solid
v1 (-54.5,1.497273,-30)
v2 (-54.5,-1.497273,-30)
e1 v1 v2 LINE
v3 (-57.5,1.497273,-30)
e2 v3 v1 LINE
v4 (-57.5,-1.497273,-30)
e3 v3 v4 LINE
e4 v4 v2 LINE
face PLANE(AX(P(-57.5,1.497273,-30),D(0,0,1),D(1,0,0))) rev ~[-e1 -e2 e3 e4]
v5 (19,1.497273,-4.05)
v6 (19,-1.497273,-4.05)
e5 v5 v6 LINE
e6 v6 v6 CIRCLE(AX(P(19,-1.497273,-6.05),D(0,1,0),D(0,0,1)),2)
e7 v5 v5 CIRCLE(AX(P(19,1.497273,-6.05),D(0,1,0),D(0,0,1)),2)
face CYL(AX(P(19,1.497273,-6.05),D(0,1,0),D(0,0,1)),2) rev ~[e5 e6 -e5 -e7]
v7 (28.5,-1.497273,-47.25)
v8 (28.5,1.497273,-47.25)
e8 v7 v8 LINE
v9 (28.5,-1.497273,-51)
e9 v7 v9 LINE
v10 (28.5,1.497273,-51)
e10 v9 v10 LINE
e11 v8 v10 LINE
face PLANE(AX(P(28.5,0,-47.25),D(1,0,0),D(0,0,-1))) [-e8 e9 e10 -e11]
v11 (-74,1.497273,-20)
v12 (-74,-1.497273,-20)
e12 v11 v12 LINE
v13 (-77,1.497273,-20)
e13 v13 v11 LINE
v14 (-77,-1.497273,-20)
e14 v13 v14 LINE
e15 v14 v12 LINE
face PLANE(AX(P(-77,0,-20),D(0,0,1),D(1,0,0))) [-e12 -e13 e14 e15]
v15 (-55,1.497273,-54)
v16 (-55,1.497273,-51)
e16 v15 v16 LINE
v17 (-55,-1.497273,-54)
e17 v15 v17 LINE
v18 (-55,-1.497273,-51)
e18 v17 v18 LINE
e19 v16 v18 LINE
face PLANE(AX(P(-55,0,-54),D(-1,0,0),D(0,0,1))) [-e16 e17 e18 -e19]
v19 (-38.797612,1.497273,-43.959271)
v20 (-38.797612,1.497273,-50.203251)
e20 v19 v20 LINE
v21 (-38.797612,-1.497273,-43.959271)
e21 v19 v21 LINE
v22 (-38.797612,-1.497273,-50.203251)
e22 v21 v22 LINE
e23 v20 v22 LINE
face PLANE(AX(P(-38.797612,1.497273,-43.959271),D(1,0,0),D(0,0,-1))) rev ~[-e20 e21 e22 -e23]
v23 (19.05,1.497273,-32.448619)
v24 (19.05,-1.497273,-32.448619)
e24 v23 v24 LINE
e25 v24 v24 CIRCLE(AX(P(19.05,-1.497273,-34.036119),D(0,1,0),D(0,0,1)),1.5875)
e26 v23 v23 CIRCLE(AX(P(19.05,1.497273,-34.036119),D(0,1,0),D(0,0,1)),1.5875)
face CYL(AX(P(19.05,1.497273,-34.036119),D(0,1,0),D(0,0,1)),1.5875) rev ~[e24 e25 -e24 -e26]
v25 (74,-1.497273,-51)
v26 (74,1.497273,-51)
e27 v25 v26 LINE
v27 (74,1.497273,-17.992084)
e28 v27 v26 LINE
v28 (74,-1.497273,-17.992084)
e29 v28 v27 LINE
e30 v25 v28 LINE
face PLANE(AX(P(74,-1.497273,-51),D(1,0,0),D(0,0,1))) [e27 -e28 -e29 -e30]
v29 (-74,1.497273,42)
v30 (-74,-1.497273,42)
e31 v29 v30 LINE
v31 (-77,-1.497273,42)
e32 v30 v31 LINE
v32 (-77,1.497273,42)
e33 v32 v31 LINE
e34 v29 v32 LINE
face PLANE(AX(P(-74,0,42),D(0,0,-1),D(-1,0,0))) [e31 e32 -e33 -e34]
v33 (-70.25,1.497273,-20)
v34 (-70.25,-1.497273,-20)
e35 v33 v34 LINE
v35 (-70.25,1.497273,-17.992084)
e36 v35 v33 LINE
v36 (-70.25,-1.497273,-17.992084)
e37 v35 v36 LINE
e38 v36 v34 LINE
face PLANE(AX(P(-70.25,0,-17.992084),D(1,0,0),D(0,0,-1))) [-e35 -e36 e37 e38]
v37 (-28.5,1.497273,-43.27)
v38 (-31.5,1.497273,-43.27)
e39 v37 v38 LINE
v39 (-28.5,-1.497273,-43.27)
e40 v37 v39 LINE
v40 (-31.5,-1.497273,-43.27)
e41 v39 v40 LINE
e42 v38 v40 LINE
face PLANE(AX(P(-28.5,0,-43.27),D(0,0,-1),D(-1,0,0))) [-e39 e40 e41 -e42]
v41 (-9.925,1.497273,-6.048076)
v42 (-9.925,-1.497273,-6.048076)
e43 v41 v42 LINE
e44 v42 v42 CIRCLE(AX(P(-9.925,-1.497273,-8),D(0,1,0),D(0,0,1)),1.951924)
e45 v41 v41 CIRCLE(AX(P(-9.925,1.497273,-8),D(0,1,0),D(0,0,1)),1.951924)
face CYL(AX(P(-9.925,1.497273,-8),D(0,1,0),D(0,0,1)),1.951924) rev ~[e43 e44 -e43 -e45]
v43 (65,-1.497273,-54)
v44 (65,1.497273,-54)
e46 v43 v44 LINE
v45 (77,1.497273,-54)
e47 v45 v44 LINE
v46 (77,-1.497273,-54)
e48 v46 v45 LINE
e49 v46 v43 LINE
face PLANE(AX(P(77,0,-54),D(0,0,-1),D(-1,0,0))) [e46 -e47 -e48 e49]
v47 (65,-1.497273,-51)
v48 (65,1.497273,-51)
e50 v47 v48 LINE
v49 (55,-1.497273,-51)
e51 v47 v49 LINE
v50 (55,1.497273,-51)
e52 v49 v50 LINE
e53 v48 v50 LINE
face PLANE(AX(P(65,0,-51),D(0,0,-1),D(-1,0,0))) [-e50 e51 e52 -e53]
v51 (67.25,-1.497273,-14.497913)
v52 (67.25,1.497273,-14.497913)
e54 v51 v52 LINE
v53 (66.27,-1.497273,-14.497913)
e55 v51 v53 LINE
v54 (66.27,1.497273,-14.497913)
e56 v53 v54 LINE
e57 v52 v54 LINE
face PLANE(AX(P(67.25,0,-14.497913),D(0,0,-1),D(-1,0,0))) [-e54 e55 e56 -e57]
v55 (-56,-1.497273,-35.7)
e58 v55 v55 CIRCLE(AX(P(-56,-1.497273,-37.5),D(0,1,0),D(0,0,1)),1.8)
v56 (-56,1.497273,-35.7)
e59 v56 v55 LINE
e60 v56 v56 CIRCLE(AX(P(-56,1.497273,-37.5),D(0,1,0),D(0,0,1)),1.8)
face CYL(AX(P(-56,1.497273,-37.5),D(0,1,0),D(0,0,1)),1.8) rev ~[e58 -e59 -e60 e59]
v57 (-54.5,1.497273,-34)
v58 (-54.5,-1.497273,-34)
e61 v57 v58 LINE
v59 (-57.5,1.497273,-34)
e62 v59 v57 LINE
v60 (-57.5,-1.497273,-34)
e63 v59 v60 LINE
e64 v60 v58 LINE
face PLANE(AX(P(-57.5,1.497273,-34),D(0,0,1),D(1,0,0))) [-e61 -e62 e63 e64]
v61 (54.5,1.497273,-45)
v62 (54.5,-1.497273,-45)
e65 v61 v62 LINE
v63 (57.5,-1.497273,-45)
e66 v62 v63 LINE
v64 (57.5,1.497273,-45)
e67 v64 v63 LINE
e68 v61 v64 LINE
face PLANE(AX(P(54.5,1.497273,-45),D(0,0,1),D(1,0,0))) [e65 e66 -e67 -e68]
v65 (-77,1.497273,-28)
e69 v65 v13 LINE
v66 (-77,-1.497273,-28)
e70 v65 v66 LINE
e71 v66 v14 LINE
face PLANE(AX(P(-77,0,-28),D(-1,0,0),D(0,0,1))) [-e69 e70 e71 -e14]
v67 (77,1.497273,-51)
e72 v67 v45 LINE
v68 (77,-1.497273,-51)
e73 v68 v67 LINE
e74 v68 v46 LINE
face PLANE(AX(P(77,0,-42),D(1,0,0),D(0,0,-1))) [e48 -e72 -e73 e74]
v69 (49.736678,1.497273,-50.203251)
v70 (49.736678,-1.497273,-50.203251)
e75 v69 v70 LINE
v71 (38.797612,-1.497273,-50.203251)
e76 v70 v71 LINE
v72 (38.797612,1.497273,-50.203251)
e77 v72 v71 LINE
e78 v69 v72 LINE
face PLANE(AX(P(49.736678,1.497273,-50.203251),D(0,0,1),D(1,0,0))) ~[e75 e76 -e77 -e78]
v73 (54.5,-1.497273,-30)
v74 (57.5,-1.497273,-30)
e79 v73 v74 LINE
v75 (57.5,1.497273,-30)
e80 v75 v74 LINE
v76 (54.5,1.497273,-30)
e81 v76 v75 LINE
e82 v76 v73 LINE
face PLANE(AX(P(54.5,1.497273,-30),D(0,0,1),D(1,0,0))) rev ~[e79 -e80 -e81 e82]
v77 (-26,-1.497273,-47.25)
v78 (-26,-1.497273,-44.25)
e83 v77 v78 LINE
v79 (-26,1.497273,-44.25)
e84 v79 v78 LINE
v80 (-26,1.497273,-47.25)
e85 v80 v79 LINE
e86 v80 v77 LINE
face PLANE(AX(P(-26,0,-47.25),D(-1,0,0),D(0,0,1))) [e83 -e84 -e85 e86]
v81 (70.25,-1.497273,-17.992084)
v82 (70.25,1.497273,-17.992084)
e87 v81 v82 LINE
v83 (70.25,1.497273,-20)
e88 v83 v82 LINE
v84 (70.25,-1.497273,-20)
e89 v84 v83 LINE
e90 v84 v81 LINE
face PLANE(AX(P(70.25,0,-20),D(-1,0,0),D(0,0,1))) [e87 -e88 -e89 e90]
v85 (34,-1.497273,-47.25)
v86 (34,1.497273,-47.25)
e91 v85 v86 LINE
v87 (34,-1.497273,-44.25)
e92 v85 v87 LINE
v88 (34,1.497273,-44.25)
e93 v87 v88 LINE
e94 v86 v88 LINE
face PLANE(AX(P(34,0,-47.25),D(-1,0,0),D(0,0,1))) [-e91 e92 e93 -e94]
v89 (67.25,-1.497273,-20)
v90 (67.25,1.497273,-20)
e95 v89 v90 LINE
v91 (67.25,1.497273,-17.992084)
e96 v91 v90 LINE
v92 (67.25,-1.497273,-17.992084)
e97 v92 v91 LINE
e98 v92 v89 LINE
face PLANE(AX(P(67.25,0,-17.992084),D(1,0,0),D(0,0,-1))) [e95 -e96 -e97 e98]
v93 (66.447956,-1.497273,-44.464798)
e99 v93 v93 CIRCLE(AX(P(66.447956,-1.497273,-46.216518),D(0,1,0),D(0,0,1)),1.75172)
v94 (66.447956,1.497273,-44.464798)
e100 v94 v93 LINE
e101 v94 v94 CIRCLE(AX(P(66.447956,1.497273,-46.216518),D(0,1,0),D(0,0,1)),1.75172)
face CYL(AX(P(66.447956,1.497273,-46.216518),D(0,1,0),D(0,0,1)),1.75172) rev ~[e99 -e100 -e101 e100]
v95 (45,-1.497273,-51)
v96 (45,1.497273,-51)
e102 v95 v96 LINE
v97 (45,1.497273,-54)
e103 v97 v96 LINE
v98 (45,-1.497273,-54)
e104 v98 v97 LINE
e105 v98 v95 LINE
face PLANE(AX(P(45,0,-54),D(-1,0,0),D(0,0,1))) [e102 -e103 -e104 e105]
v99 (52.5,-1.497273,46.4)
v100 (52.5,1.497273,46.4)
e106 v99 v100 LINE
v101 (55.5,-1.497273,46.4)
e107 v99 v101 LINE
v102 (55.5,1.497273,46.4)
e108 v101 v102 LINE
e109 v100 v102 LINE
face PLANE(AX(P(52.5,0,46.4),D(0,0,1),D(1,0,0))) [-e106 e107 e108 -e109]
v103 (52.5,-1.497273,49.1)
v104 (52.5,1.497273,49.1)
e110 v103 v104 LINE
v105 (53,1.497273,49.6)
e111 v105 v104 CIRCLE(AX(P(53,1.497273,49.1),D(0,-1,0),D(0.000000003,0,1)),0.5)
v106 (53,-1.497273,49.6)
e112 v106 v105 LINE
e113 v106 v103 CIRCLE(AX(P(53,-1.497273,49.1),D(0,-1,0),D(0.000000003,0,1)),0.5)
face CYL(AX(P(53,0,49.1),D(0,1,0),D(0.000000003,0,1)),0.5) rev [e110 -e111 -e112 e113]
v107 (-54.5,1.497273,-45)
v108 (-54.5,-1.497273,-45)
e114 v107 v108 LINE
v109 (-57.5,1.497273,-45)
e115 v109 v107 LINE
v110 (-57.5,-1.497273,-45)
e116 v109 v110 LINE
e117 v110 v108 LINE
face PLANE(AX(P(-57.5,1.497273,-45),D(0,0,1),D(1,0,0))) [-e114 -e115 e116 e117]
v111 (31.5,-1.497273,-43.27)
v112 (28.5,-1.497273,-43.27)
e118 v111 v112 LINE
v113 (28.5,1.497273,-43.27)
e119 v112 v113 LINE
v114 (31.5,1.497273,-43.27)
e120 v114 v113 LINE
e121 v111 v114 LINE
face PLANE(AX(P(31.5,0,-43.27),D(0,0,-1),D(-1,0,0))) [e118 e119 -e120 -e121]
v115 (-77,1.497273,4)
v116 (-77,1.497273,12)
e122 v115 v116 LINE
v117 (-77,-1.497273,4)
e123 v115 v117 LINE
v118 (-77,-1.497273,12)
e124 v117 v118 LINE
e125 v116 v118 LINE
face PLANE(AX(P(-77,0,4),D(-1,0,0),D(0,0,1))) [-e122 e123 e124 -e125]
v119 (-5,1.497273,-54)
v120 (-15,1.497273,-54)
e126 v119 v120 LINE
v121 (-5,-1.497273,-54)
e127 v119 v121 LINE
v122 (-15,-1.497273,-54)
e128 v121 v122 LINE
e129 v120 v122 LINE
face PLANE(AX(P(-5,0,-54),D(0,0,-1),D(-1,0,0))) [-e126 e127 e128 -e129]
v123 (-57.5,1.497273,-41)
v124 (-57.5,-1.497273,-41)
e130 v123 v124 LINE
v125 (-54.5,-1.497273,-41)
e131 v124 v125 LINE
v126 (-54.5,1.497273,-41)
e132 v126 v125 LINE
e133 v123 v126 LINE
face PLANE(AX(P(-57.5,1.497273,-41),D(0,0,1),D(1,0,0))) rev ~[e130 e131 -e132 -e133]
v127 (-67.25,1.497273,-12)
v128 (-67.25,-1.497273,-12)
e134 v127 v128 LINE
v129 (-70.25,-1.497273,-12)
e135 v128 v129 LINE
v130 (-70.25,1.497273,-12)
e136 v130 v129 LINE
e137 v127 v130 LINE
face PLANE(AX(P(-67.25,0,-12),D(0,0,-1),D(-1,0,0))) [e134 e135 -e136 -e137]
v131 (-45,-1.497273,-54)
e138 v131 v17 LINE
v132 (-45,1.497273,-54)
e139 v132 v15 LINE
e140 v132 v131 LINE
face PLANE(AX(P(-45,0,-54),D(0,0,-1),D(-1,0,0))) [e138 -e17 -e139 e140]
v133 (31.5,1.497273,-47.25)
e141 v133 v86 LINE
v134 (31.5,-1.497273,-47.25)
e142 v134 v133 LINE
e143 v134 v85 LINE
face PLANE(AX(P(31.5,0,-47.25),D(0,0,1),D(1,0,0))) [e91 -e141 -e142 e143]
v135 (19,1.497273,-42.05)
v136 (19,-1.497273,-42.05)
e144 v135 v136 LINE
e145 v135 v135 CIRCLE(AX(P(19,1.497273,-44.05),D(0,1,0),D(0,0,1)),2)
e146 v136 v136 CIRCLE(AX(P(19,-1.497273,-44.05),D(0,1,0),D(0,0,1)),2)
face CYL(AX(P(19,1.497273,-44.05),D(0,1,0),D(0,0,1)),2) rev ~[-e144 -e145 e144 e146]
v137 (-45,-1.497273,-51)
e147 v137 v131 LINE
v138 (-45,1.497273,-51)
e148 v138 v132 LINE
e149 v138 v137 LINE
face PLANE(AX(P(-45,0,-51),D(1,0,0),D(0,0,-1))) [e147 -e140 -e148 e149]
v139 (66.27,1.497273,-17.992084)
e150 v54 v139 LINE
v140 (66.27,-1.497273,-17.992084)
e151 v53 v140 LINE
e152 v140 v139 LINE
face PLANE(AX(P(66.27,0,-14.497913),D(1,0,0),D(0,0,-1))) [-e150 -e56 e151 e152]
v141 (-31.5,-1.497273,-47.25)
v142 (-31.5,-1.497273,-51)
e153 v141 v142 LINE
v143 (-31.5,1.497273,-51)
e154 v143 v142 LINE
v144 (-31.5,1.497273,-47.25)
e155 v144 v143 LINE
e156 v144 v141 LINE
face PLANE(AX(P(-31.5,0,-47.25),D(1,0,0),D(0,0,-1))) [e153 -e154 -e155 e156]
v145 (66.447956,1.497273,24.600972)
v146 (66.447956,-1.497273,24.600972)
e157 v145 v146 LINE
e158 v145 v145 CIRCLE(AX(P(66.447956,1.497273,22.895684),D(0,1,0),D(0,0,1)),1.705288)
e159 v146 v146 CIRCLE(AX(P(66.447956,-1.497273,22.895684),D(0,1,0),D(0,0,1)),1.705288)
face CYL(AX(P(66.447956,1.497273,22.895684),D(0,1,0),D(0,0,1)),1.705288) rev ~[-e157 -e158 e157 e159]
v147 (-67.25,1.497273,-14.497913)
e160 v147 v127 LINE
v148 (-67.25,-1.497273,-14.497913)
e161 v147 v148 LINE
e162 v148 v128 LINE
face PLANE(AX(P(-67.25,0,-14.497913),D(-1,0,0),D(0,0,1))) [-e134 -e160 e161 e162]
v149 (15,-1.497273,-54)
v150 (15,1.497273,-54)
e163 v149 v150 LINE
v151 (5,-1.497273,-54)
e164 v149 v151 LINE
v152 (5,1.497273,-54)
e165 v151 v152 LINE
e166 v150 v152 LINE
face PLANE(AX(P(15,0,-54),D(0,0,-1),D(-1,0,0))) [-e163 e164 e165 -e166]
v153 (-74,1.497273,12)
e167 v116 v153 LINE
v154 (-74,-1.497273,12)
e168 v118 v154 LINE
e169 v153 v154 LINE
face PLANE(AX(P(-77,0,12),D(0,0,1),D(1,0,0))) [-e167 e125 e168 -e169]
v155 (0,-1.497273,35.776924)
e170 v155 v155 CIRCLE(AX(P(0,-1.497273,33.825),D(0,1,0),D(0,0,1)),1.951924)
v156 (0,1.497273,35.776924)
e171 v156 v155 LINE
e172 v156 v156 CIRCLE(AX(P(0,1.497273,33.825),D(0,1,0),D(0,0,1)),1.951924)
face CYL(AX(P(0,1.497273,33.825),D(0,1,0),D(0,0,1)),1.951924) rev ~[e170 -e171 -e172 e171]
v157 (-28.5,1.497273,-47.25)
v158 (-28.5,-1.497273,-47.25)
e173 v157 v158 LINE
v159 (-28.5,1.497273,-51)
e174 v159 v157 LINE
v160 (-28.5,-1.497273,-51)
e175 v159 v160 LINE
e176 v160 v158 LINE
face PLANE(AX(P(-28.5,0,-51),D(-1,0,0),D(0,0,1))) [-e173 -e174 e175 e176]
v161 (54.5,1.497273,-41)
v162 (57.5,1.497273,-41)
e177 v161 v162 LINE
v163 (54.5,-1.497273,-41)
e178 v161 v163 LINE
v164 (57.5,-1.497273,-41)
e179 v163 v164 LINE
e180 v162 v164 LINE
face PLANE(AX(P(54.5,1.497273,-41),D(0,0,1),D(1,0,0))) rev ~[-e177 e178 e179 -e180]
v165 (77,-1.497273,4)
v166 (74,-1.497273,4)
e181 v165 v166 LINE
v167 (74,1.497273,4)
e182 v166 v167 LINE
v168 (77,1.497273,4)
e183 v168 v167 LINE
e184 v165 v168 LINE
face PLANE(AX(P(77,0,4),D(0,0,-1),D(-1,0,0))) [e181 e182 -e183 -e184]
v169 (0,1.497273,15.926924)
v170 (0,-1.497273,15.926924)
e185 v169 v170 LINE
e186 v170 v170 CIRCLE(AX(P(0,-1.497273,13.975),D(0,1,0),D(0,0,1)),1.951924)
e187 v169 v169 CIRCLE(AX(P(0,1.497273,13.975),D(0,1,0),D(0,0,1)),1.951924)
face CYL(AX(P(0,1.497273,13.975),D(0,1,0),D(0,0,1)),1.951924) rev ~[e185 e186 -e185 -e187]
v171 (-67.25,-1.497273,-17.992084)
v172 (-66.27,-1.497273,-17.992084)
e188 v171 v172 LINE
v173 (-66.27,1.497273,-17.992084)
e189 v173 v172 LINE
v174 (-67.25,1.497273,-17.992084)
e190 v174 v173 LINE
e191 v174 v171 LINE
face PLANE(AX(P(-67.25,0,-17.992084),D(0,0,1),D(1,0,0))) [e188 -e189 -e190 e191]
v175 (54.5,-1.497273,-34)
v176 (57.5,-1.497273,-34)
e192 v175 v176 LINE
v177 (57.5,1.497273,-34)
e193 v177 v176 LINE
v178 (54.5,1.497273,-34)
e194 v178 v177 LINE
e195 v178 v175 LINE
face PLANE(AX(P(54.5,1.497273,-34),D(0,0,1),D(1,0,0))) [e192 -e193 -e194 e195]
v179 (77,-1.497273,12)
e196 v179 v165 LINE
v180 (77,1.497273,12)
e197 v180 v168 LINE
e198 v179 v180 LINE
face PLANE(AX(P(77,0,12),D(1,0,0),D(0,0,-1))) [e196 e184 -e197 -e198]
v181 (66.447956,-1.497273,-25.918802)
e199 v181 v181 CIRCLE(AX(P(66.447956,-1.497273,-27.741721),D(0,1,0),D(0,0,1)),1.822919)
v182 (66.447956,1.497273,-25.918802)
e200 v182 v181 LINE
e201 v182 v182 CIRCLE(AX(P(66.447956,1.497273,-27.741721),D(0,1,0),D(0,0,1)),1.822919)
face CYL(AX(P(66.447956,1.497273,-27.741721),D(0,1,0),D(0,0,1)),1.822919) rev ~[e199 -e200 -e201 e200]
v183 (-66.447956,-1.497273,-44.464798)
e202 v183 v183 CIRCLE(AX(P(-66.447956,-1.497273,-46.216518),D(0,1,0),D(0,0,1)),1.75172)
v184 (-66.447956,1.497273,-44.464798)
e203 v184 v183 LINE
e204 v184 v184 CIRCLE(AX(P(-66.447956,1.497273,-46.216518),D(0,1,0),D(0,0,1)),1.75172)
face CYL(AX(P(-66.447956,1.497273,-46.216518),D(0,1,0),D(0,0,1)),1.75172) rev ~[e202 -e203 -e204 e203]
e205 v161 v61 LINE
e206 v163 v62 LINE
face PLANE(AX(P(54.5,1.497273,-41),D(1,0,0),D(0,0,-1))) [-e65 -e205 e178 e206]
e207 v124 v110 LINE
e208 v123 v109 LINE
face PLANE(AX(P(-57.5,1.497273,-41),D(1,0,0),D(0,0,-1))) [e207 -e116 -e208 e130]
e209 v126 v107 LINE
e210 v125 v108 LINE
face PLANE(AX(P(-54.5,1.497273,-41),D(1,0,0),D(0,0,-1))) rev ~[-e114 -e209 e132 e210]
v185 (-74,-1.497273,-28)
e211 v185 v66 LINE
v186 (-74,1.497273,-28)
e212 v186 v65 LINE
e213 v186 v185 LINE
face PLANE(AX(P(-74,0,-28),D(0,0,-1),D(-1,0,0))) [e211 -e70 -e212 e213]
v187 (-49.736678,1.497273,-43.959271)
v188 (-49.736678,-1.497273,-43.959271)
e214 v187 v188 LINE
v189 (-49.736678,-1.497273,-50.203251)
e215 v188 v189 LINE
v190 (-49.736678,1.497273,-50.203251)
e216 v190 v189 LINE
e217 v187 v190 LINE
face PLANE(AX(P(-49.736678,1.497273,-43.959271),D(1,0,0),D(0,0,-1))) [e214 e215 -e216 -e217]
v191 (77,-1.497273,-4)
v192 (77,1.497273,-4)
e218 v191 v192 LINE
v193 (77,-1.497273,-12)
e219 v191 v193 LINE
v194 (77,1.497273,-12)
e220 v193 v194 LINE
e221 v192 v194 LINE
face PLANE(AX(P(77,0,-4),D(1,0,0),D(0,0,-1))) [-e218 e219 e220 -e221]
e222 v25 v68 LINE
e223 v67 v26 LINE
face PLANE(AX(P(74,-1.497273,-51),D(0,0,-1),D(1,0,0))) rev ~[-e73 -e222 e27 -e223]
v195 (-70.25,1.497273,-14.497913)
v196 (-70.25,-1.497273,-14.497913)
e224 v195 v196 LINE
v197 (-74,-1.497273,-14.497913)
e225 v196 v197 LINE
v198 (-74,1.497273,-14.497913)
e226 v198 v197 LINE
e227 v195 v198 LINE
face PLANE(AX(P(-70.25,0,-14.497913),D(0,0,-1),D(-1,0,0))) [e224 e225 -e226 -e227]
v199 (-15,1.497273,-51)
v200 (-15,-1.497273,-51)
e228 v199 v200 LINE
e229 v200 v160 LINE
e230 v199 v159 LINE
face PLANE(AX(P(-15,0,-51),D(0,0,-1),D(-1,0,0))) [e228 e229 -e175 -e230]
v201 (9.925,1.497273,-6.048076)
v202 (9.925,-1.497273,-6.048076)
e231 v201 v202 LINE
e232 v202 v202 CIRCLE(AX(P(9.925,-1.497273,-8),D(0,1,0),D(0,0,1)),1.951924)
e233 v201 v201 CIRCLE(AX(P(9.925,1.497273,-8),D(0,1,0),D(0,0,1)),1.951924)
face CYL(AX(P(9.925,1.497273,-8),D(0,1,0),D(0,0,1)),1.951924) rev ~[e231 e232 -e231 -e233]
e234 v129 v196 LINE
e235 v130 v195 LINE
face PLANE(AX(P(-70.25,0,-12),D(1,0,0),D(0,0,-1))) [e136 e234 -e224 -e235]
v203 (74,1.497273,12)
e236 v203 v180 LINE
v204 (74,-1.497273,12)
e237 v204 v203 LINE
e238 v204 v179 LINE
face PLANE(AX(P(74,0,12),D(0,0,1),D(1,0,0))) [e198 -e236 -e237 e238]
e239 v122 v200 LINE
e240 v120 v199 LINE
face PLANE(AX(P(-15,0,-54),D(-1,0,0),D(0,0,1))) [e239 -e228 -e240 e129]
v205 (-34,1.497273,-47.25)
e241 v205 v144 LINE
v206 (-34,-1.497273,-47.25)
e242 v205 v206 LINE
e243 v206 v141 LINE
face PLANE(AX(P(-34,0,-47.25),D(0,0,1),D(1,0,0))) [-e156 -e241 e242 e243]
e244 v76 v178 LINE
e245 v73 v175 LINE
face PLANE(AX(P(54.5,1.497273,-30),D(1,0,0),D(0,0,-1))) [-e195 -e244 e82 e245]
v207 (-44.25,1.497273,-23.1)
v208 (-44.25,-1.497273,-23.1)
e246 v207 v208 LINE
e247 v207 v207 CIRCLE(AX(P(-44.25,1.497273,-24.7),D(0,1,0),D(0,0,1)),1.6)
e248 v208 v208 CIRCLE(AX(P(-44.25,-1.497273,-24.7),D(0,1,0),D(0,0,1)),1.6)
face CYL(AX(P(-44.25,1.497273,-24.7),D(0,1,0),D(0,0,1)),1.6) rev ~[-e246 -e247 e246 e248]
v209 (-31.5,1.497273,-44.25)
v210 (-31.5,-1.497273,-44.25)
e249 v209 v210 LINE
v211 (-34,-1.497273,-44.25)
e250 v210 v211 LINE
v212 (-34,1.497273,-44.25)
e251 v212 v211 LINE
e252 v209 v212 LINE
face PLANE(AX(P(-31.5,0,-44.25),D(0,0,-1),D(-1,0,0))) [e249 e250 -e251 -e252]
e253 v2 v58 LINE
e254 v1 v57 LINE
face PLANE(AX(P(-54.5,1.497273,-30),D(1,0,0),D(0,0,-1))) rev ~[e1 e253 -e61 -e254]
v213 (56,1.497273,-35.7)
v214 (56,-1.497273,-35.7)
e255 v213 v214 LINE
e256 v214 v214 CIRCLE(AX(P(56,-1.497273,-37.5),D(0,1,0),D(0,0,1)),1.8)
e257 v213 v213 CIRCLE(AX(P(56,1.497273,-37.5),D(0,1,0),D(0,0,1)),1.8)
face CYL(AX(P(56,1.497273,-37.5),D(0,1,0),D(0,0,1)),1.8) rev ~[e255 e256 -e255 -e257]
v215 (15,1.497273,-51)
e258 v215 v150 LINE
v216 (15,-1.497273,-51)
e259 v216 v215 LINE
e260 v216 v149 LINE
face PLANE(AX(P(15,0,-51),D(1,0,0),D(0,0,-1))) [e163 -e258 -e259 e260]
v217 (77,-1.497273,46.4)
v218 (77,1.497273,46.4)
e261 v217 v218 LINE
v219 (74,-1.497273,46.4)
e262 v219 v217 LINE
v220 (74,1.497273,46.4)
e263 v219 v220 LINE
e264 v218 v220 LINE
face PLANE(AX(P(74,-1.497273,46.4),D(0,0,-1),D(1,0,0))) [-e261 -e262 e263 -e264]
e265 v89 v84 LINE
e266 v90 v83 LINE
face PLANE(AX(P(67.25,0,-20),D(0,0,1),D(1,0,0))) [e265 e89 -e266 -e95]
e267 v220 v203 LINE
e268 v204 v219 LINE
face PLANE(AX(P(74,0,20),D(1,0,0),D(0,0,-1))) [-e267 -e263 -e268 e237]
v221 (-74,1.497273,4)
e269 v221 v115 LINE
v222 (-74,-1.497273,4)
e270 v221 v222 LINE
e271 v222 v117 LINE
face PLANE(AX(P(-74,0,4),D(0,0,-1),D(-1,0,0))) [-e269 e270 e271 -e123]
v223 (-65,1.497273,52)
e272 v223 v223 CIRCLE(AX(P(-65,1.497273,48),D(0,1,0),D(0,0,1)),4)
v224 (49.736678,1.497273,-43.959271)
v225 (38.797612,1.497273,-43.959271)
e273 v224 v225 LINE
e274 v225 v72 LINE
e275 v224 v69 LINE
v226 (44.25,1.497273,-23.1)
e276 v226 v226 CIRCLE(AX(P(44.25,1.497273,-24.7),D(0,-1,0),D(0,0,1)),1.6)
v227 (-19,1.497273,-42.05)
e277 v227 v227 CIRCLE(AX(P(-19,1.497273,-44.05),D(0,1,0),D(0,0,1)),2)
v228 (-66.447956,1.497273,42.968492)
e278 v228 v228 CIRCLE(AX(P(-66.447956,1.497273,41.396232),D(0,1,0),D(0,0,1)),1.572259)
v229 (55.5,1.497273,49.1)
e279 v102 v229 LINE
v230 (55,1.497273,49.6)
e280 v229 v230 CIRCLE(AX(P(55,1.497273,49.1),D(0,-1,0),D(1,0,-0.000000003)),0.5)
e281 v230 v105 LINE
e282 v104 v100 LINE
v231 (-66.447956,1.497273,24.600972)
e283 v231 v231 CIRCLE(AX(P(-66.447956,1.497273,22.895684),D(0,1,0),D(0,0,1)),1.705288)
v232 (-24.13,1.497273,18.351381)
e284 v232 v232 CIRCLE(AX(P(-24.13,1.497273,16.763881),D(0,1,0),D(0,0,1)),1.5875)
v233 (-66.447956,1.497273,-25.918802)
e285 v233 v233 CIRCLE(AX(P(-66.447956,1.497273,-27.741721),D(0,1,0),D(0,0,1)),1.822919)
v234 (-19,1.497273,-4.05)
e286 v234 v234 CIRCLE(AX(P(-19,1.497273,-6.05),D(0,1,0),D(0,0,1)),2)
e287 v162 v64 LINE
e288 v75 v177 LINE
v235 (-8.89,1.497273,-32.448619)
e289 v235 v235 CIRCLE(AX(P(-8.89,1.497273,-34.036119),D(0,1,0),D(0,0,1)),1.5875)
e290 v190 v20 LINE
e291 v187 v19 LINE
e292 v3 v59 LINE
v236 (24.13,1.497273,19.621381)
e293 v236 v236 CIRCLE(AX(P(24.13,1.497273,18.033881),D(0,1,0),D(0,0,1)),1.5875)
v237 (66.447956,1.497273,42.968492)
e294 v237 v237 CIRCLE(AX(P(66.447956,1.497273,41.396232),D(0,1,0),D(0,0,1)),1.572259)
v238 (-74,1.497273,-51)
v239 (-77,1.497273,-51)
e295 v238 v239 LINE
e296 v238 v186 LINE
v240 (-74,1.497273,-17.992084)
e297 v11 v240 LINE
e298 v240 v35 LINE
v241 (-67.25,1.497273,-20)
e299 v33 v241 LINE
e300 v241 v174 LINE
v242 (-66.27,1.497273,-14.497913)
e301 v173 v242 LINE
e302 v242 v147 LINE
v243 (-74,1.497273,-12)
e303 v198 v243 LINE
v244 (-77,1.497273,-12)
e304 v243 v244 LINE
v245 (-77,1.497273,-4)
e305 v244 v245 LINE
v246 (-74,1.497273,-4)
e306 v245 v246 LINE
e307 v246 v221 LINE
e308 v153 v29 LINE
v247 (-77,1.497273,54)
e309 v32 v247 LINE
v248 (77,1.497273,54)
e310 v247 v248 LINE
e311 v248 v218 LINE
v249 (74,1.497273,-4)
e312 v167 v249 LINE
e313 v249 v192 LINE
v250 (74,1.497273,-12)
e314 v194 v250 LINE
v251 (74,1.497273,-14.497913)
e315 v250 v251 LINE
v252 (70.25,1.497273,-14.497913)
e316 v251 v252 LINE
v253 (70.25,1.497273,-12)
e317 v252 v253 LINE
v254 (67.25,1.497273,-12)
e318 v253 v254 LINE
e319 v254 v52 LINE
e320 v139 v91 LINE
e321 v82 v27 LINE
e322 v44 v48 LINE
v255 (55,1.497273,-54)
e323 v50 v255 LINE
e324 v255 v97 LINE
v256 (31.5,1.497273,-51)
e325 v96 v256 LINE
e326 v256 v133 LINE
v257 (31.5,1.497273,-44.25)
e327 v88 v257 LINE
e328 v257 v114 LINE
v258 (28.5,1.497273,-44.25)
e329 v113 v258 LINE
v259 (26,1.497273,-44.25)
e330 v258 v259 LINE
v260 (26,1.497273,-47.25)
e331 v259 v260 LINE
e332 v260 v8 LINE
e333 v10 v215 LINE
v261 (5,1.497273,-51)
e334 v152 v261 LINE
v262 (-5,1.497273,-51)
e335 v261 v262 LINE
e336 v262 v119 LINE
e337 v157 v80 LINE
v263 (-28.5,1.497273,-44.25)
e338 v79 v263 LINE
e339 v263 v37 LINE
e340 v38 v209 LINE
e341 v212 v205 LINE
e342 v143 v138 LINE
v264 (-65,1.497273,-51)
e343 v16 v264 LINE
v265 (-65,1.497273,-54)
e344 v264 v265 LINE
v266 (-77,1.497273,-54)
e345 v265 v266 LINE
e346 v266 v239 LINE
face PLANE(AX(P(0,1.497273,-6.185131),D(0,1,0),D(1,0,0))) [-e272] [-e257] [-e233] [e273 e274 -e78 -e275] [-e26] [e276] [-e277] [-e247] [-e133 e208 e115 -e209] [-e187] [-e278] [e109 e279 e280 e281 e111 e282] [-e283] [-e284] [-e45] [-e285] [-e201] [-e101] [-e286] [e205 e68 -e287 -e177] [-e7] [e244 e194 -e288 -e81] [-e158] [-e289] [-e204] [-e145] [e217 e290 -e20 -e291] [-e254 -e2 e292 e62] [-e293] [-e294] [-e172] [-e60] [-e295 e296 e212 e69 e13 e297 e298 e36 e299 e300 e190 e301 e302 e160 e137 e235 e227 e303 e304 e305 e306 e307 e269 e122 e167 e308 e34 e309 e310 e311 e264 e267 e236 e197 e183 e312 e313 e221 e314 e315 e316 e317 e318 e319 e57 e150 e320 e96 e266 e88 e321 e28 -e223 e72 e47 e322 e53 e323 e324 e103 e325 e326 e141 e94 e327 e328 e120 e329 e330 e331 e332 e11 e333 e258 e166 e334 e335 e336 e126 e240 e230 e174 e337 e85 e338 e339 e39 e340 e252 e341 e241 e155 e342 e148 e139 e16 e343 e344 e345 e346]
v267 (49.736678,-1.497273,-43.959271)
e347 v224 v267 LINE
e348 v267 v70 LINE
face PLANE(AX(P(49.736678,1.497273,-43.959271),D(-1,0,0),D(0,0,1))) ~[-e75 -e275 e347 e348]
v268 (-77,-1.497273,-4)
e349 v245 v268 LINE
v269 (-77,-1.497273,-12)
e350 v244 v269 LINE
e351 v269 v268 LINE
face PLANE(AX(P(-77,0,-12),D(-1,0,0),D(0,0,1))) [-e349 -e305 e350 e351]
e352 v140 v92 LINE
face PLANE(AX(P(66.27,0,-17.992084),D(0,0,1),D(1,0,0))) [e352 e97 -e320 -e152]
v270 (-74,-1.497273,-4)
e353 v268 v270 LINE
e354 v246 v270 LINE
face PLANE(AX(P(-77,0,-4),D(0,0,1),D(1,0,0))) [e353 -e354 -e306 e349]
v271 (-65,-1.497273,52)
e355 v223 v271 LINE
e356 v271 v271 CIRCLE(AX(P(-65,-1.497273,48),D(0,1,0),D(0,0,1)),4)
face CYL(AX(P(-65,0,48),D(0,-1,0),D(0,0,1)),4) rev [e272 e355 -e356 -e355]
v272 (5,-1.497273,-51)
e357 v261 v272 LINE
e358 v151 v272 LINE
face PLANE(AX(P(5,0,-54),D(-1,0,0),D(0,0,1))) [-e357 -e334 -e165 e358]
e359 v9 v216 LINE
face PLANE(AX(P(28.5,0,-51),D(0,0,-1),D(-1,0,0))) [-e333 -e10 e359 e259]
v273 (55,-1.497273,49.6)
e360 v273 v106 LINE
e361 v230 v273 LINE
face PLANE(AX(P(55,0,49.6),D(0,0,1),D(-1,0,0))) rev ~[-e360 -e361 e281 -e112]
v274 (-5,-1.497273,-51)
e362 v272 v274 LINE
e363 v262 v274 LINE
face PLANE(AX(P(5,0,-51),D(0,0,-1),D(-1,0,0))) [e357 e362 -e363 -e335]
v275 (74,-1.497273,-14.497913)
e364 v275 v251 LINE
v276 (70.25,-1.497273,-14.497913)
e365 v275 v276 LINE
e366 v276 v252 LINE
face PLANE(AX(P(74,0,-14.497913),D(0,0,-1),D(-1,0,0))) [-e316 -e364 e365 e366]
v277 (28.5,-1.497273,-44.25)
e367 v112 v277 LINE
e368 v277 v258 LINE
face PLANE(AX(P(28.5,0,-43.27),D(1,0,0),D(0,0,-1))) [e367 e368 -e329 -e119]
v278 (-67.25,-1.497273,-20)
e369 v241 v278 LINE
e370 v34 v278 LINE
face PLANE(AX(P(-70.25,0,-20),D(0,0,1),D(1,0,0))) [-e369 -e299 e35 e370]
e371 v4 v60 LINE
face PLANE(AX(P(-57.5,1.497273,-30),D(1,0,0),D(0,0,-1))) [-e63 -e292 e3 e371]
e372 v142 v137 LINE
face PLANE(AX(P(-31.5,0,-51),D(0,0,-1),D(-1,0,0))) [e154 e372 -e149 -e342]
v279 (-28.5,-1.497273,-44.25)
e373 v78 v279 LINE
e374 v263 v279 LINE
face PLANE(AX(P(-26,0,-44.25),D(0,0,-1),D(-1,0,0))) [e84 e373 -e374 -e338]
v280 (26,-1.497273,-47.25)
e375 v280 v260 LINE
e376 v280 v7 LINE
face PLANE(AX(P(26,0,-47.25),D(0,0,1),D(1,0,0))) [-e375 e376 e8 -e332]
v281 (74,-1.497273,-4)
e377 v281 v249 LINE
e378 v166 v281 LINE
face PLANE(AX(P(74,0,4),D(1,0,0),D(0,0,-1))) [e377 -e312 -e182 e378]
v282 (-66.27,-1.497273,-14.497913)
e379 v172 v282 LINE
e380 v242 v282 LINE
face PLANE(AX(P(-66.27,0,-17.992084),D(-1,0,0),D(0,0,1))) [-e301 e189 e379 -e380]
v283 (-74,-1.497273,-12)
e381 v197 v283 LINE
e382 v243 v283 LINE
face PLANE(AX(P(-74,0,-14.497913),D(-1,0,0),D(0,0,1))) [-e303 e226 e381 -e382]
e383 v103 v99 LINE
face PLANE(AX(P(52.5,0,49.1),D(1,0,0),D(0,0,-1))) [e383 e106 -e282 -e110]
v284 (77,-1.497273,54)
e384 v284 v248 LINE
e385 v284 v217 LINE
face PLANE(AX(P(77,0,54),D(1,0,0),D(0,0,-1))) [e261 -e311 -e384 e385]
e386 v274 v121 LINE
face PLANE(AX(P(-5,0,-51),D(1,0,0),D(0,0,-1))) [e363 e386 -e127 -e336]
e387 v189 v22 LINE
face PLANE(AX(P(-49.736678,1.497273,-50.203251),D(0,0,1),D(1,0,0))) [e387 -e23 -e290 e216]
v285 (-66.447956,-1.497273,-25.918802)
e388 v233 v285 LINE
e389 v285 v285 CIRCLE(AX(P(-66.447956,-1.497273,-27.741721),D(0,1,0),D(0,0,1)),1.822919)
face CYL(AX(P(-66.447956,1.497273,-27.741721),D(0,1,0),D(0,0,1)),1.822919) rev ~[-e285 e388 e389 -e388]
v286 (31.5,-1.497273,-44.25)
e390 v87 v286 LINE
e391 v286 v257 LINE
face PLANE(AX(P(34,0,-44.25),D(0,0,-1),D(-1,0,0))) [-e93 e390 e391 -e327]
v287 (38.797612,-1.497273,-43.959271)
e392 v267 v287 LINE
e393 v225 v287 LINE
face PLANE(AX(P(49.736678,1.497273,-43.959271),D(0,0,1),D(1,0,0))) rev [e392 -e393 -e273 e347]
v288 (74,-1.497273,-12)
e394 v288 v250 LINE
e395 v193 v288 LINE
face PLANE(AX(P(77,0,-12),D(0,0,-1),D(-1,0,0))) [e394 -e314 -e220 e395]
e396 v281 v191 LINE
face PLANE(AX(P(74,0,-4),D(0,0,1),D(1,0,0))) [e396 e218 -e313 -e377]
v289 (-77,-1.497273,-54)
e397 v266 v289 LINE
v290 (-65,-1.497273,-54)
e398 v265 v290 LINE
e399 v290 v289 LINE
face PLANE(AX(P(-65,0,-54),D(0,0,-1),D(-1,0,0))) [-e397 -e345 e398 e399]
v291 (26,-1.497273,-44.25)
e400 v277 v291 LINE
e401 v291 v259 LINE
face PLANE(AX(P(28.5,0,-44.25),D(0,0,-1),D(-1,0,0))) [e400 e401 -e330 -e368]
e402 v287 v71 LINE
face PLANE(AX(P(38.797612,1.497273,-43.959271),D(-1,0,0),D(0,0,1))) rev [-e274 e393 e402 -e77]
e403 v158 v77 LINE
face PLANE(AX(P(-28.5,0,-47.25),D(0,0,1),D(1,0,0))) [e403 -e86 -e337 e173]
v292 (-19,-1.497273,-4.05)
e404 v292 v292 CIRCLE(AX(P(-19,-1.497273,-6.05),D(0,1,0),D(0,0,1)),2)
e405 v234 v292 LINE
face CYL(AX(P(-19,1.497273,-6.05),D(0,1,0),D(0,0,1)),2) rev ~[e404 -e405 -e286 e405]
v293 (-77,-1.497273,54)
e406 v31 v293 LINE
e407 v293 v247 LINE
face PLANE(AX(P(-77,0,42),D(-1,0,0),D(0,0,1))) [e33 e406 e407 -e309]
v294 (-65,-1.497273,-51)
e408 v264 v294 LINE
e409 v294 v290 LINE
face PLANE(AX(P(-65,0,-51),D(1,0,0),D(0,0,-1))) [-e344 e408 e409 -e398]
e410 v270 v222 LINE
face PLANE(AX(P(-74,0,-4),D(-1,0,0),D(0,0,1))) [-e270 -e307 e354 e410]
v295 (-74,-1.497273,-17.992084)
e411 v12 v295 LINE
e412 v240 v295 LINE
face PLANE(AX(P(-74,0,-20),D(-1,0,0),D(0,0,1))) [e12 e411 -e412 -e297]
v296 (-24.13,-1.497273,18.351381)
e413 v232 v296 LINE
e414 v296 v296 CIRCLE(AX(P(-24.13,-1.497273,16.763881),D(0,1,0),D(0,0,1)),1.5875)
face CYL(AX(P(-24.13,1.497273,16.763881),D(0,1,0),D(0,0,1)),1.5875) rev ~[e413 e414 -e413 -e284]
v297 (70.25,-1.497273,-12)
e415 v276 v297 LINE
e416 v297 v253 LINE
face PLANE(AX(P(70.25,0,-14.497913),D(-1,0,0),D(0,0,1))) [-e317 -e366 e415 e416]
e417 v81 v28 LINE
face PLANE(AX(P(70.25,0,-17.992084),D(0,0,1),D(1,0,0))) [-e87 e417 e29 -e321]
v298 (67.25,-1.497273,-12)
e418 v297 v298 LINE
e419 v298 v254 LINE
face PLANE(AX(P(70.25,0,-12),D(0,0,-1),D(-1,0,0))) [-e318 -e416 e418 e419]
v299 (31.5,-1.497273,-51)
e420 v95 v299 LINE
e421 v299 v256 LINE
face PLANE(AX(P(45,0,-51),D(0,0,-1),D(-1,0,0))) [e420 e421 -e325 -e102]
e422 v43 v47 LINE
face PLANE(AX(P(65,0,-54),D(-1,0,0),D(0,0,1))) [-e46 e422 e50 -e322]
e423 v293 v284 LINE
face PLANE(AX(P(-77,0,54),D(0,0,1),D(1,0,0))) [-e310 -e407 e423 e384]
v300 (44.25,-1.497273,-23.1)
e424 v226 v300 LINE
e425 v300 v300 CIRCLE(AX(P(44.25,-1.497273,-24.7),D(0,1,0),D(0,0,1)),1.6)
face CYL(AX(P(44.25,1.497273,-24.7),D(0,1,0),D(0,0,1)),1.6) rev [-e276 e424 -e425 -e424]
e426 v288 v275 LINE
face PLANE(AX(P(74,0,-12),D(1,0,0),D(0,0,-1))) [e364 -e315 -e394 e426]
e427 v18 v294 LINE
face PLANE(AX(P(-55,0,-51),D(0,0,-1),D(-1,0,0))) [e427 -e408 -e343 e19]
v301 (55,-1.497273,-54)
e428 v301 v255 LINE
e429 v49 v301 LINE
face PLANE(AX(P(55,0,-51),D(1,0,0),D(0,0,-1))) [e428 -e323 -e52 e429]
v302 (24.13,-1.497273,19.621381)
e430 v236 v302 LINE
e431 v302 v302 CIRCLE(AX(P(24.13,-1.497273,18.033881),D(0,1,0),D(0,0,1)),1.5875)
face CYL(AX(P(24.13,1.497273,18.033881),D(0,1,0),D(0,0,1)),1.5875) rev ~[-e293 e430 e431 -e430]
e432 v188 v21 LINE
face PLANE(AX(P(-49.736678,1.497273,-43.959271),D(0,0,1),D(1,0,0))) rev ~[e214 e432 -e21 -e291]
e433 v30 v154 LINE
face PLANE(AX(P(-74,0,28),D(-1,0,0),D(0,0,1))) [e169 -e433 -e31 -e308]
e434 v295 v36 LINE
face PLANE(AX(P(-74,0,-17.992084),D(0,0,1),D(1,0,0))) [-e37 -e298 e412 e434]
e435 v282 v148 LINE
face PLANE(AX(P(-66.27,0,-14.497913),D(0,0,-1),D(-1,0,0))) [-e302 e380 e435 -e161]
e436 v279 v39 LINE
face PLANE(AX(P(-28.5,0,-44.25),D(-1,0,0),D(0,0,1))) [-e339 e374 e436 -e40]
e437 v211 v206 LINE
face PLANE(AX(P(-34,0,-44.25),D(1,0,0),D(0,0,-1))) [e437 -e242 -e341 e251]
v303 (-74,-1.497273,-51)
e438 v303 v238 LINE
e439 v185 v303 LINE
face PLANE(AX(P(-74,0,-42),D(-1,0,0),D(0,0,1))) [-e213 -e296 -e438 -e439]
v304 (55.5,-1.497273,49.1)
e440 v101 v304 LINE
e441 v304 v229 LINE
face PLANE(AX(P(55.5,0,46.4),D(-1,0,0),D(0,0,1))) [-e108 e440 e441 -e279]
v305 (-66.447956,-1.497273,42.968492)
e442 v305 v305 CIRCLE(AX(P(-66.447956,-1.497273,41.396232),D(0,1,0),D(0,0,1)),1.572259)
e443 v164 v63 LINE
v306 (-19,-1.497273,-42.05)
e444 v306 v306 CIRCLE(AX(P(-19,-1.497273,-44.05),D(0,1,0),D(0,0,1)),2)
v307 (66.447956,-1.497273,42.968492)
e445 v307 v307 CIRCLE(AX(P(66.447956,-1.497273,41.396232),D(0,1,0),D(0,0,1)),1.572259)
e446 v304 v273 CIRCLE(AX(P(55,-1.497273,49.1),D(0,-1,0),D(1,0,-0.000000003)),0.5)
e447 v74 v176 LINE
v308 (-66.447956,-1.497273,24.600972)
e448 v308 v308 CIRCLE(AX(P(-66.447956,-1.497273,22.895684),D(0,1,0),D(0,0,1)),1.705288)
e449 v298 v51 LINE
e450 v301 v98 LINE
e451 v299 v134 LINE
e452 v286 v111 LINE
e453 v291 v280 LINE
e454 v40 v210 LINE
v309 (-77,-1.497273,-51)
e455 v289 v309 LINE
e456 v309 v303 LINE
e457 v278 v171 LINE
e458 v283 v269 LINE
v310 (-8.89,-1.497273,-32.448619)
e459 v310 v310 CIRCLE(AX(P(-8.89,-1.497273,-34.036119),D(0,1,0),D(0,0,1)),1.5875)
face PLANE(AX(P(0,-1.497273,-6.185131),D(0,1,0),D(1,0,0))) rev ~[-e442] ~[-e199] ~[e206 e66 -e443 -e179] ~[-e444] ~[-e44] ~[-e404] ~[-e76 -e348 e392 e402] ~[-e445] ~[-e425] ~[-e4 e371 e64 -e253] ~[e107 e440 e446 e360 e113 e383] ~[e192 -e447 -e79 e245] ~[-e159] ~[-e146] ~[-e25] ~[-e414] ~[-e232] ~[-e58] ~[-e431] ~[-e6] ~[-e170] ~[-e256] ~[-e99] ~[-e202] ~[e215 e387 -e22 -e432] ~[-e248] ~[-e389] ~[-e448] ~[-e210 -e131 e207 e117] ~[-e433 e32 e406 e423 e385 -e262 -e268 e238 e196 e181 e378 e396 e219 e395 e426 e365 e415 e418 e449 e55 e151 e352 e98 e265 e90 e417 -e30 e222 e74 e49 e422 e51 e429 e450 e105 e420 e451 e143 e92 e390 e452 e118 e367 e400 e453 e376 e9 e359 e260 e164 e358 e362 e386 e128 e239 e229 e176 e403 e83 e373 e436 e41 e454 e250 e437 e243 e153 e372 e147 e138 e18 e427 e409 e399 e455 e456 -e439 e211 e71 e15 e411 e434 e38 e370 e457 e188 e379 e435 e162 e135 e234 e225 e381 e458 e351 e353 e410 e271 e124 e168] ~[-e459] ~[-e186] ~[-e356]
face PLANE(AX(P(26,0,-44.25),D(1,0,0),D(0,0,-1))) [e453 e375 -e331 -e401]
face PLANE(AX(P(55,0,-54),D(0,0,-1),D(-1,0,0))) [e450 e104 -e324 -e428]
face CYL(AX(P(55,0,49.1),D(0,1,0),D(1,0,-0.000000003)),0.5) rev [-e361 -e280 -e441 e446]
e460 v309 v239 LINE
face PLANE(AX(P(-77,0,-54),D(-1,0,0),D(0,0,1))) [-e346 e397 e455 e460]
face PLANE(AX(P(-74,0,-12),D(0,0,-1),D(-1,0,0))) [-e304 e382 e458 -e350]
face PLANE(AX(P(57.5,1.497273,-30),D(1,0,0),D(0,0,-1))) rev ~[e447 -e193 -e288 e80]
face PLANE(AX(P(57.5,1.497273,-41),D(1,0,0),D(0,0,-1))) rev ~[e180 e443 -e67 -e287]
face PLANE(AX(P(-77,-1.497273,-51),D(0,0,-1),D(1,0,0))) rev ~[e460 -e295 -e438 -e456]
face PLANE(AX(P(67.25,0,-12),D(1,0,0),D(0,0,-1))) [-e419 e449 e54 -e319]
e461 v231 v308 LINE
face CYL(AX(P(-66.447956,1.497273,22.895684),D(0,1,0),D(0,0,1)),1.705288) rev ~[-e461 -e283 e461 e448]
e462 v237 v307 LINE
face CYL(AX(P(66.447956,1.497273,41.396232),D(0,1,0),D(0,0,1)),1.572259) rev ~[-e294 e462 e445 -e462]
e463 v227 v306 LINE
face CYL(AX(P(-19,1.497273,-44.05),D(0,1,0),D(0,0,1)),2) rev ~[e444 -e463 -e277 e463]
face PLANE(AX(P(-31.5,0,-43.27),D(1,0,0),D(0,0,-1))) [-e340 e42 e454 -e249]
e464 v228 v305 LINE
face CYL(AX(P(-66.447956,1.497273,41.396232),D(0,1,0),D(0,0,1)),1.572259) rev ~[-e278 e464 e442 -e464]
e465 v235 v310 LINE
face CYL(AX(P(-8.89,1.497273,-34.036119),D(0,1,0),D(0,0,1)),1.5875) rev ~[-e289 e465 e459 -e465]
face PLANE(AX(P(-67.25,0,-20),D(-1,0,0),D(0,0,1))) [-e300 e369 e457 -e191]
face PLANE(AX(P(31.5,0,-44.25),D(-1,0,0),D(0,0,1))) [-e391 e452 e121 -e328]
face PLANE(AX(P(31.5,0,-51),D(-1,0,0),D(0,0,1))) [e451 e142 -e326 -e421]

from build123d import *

# Parameters (mm, degrees)
CROQUIS1_R              = 4
SALIENTE_EXTRUIR1_DEPTH = 1.497272789
CROQUIS12_W             = 3
CROQUIS12_H             = 23
CROQUIS12_H_2           = 8
CROQUIS12_H_3           = 18.4
CROQUIS12_H_4           = 9
CORTAR_EXTRUIR10_DEPTH  = 10
CROQUIS13_W             = 3
CROQUIS13_H             = 8
CORTAR_EXTRUIR11_DEPTH  = 10
CROQUIS15_R             = 1.5875
CORTAR_EXTRUIR13_DEPTH  = 10
CROQUIS18_R             = 1.705288108
CROQUIS18_R_2           = 1.572259227
CROQUIS18_R_3           = 1.751719864
CROQUIS18_R_4           = 1.822918829
CORTAR_EXTRUIR15_DEPTH  = 10
CROQUIS19_R             = 1.8
CROQUIS19_W             = 3
CROQUIS19_H             = 4
CORTAR_EXTRUIR16_DEPTH  = 10
CROQUIS20_R             = 1.600000002
CROQUIS20_W             = 10.939065956
CROQUIS20_H             = 6.243980126
CORTAR_EXTRUIR17_DEPTH  = 10
CROQUIS21_R             = 1.951923789
CROQUIS21_R_2           = 2
CORTAR_EXTRUIR18_DEPTH  = 10
CROQUIS22_R             = 1.951923789
CORTAR_EXTRUIR19_DEPTH  = 10


with BuildPart() as part:
    # Croquis1 → Saliente-Extruir1 (new, symmetric)
    with BuildSketch(Plane(origin=(0, 0, 0), x_dir=(1, 0, 0), z_dir=(0, 1, 0))):
        Polygon((-77, -42), (-77, -54), (77, -54), (77, -42), (74, -42), (74, -28), (77, -28), (77, -20), (74, -20), (74, -12), (77, -12), (77, -4), (74, -4), (74, -1.5), (74, 1.5), (74, 4), (77, 4), (77, 12), (74, 12), (74, 14.497912952), (70.25, 14.497912952), (70.25, 12), (67.25, 12), (67.25, 14.497912952), (66.27, 14.497912952), (66.27, 17.992083938), (67.25, 17.992083938), (67.25, 20), (70.25, 20), (70.25, 17.992083938), (74, 17.992083938), (74, 20), (77, 20), (77, 28), (74, 28), (74, 42), (77, 42), (77, 54), (65, 54), (65, 51), (55, 51), (55, 54), (45, 54), (45, 51), (31.5, 51), (31.5, 47.25), (34, 47.25), (34, 44.25), (31.5, 44.25), (31.5, 43.27), (28.5, 43.27), (28.5, 44.25), (26, 44.25), (26, 47.25), (28.5, 47.25), (28.5, 51), (15, 51), (15, 54), (5, 54), (5, 51), (-5, 51), (-5, 54), (-15, 54), (-15, 51), (-28.5, 51), (-28.5, 47.25), (-26, 47.25), (-26, 44.25), (-28.5, 44.25), (-28.5, 43.27), (-31.5, 43.27), (-31.5, 44.25), (-34, 44.25), (-34, 47.25), (-31.5, 47.25), (-31.5, 51), (-45, 51), (-45, 54), (-55, 54), (-55, 51), (-65, 51), (-65, 54), (-77, 54), (-77, 42), (-74, 42), (-74, 28), (-77, 28), (-77, 20), (-74, 20), (-74, 17.992083938), (-70.25, 17.992083938), (-70.25, 20), (-67.25, 20), (-67.25, 17.992083938), (-66.27, 17.992083938), (-66.27, 14.497912952), (-67.25, 14.497912952), (-67.25, 12), (-70.25, 12), (-70.25, 14.497912952), (-74, 14.497912952), (-74, 12), (-77, 12), (-77, 4), (-74, 4), (-74, 1.5), (-74, -1.5), (-74, -4), (-77, -4), (-77, -12), (-74, -12), (-74, -20), (-77, -20), (-77, -28), (-74, -28), (-74, -42), align=None)
        with Locations(Location((-65, -48, 0), (0, 0, 270))):
            Circle(CROQUIS1_R, mode=Mode.SUBTRACT)
        with BuildLine():
            Line((55, -49.6), (53, -49.6))
            ThreePointArc((53, -49.6), (52.646446609, -49.453553391), (52.5, -49.1))
            Line((52.5, -49.1), (52.5, -46.4))
            Line((52.5, -46.4), (55.5, -46.4))
            Line((55.5, -46.4), (55.5, -49.1))
            ThreePointArc((55.5, -49.1), (55.353553391, -49.453553391), (55, -49.6))
        make_face(mode=Mode.SUBTRACT)
    extrude(amount=SALIENTE_EXTRUIR1_DEPTH, both=True)

    # Croquis12 → Cortar-Extruir10 (cut)
    with BuildSketch(Plane.XZ.offset(1.497272789)):
        with Locations((-75.5, -39.5)):
            Rectangle(CROQUIS12_W, CROQUIS12_H)
        with Locations((-75.5, 24)):
            Rectangle(CROQUIS12_W, CROQUIS12_H_2)
        with Locations((75.5, -24)):
            Rectangle(CROQUIS12_W, CROQUIS12_H_2)
        with Locations((75.5, 37.2)):
            Rectangle(CROQUIS12_W, CROQUIS12_H_3)
        with Locations((75.5, -46.5)):
            Rectangle(CROQUIS12_W, CROQUIS12_H_4)
    extrude(amount=-CORTAR_EXTRUIR10_DEPTH, mode=Mode.SUBTRACT)

    # Croquis13 → Cortar-Extruir11 (cut)
    with BuildSketch(Plane.XZ.offset(1.497272789)):
        with Locations((75.5, 24)):
            Rectangle(CROQUIS13_W, CROQUIS13_H)
    extrude(amount=-CORTAR_EXTRUIR11_DEPTH, mode=Mode.SUBTRACT)

    # Croquis15 → Cortar-Extruir13 (cut)
    with BuildSketch(Plane(origin=(0, 1.497272789, 0), x_dir=(1, 0, 0), z_dir=(0, 1, 0))):
        with Locations(Location((-8.89, 34.036119394, 0), (0, 0, 270))):
            Circle(CROQUIS15_R)
        with Locations(Location((19.05, 34.036119394, 0), (0, 0, 270))):
            Circle(CROQUIS15_R)
        with Locations(Location((24.13, -18.033880606, 0), (0, 0, 270))):
            Circle(CROQUIS15_R)
        with Locations(Location((-24.13, -16.763880606, 0), (0, 0, 270))):
            Circle(CROQUIS15_R)
    extrude(amount=-CORTAR_EXTRUIR13_DEPTH, mode=Mode.SUBTRACT)

    # Croquis18 → Cortar-Extruir15 (cut)
    with BuildSketch(Plane(origin=(0, 1.497272789, 0), x_dir=(1, 0, 0), z_dir=(0, 1, 0))):
        with Locations(Location((66.447956343, -22.895683893, 0), (0, 0, 270))):
            Circle(CROQUIS18_R)
        with Locations(Location((66.447956343, -41.396232491, 0), (0, 0, 270))):
            Circle(CROQUIS18_R_2)
        with Locations(Location((66.447956343, 46.216518088, 0), (0, 0, 270))):
            Circle(CROQUIS18_R_3)
        with Locations(Location((66.447956343, 27.741721108, 0), (0, 0, 270))):
            Circle(CROQUIS18_R_4)
        with Locations(Location((-66.447956343, 27.741721108, 0), (0, 0, 270))):
            Circle(CROQUIS18_R_4)
        with Locations(Location((-66.447956343, 46.216518088, 0), (0, 0, 270))):
            Circle(CROQUIS18_R_3)
        with Locations(Location((-66.447956343, -41.396232491, 0), (0, 0, 270))):
            Circle(CROQUIS18_R_2)
        with Locations(Location((-66.447956343, -22.895683893, 0), (0, 0, 270))):
            Circle(CROQUIS18_R)
    extrude(amount=-CORTAR_EXTRUIR15_DEPTH, mode=Mode.SUBTRACT)

    # Croquis19 → Cortar-Extruir16 (cut)
    with BuildSketch(Plane(origin=(0, 1.497272789, 0), x_dir=(1, 0, 0), z_dir=(0, 1, 0))):
        with Locations(Location((-56, 37.5, 0), (0, 0, 270))):
            Circle(CROQUIS19_R)
        with Locations(Location((56, 37.5, 0), (0, 0, 270))):
            Circle(CROQUIS19_R)
        with Locations((-56, 32)):
            Rectangle(CROQUIS19_W, CROQUIS19_H)
        with Locations((-56, 43)):
            Rectangle(CROQUIS19_W, CROQUIS19_H)
        with Locations((56, 43)):
            Rectangle(CROQUIS19_W, CROQUIS19_H)
        with Locations((56, 32)):
            Rectangle(CROQUIS19_W, CROQUIS19_H)
    extrude(amount=-CORTAR_EXTRUIR16_DEPTH, mode=Mode.SUBTRACT)

    # Croquis20 → Cortar-Extruir17 (cut)
    with BuildSketch(Plane(origin=(0, 1.497272789, 0), x_dir=(1, 0, 0), z_dir=(0, 1, 0))):
        with Locations(Location((-44.25, 24.7, 0), (0, 0, 270))):
            Circle(CROQUIS20_R)
        with Locations((-44.267144923, 47.081261314)):
            Rectangle(CROQUIS20_W, CROQUIS20_H)
    cortar_extruir17 = extrude(amount=-CORTAR_EXTRUIR17_DEPTH, mode=Mode.SUBTRACT)

    # Simetría1: Cortar-Extruir17 across plane
    add(cortar_extruir17.mirror(Plane(origin=(0, 0, 0), x_dir=(0, 0, 1), z_dir=(1, 0, 0))), mode=Mode.SUBTRACT)

    # Croquis21 → Cortar-Extruir18 (cut)
    with BuildSketch(Plane(origin=(0, 1.497272789, 0), x_dir=(1, 0, 0), z_dir=(0, 1, 0))):
        with Locations(Location((0, -33.825, 0), (0, 0, 270))):
            Circle(CROQUIS21_R)
        with Locations(Location((0, -13.975, 0), (0, 0, 270))):
            Circle(CROQUIS21_R)
        with Locations(Location((19, 6.05, 0), (0, 0, 270))):
            Circle(CROQUIS21_R_2)
        with Locations(Location((19, 44.05, 0), (0, 0, 270))):
            Circle(CROQUIS21_R_2)
        with Locations(Location((-19, 44.05, 0), (0, 0, 270))):
            Circle(CROQUIS21_R_2)
        with Locations(Location((-19, 6.05, 0), (0, 0, 270))):
            Circle(CROQUIS21_R_2)
    extrude(amount=-CORTAR_EXTRUIR18_DEPTH, mode=Mode.SUBTRACT)

    # Croquis22 → Cortar-Extruir19 (cut)
    with BuildSketch(Plane(origin=(0, 1.497272789, 0), x_dir=(1, 0, 0), z_dir=(0, 1, 0))):
        with Locations(Location((-9.925, 8, 0), (0, 0, 270))):
            Circle(CROQUIS22_R)
        with Locations(Location((9.925, 8, 0), (0, 0, 270))):
            Circle(CROQUIS22_R)
    extrude(amount=-CORTAR_EXTRUIR19_DEPTH, mode=Mode.SUBTRACT)


solid = part.part
